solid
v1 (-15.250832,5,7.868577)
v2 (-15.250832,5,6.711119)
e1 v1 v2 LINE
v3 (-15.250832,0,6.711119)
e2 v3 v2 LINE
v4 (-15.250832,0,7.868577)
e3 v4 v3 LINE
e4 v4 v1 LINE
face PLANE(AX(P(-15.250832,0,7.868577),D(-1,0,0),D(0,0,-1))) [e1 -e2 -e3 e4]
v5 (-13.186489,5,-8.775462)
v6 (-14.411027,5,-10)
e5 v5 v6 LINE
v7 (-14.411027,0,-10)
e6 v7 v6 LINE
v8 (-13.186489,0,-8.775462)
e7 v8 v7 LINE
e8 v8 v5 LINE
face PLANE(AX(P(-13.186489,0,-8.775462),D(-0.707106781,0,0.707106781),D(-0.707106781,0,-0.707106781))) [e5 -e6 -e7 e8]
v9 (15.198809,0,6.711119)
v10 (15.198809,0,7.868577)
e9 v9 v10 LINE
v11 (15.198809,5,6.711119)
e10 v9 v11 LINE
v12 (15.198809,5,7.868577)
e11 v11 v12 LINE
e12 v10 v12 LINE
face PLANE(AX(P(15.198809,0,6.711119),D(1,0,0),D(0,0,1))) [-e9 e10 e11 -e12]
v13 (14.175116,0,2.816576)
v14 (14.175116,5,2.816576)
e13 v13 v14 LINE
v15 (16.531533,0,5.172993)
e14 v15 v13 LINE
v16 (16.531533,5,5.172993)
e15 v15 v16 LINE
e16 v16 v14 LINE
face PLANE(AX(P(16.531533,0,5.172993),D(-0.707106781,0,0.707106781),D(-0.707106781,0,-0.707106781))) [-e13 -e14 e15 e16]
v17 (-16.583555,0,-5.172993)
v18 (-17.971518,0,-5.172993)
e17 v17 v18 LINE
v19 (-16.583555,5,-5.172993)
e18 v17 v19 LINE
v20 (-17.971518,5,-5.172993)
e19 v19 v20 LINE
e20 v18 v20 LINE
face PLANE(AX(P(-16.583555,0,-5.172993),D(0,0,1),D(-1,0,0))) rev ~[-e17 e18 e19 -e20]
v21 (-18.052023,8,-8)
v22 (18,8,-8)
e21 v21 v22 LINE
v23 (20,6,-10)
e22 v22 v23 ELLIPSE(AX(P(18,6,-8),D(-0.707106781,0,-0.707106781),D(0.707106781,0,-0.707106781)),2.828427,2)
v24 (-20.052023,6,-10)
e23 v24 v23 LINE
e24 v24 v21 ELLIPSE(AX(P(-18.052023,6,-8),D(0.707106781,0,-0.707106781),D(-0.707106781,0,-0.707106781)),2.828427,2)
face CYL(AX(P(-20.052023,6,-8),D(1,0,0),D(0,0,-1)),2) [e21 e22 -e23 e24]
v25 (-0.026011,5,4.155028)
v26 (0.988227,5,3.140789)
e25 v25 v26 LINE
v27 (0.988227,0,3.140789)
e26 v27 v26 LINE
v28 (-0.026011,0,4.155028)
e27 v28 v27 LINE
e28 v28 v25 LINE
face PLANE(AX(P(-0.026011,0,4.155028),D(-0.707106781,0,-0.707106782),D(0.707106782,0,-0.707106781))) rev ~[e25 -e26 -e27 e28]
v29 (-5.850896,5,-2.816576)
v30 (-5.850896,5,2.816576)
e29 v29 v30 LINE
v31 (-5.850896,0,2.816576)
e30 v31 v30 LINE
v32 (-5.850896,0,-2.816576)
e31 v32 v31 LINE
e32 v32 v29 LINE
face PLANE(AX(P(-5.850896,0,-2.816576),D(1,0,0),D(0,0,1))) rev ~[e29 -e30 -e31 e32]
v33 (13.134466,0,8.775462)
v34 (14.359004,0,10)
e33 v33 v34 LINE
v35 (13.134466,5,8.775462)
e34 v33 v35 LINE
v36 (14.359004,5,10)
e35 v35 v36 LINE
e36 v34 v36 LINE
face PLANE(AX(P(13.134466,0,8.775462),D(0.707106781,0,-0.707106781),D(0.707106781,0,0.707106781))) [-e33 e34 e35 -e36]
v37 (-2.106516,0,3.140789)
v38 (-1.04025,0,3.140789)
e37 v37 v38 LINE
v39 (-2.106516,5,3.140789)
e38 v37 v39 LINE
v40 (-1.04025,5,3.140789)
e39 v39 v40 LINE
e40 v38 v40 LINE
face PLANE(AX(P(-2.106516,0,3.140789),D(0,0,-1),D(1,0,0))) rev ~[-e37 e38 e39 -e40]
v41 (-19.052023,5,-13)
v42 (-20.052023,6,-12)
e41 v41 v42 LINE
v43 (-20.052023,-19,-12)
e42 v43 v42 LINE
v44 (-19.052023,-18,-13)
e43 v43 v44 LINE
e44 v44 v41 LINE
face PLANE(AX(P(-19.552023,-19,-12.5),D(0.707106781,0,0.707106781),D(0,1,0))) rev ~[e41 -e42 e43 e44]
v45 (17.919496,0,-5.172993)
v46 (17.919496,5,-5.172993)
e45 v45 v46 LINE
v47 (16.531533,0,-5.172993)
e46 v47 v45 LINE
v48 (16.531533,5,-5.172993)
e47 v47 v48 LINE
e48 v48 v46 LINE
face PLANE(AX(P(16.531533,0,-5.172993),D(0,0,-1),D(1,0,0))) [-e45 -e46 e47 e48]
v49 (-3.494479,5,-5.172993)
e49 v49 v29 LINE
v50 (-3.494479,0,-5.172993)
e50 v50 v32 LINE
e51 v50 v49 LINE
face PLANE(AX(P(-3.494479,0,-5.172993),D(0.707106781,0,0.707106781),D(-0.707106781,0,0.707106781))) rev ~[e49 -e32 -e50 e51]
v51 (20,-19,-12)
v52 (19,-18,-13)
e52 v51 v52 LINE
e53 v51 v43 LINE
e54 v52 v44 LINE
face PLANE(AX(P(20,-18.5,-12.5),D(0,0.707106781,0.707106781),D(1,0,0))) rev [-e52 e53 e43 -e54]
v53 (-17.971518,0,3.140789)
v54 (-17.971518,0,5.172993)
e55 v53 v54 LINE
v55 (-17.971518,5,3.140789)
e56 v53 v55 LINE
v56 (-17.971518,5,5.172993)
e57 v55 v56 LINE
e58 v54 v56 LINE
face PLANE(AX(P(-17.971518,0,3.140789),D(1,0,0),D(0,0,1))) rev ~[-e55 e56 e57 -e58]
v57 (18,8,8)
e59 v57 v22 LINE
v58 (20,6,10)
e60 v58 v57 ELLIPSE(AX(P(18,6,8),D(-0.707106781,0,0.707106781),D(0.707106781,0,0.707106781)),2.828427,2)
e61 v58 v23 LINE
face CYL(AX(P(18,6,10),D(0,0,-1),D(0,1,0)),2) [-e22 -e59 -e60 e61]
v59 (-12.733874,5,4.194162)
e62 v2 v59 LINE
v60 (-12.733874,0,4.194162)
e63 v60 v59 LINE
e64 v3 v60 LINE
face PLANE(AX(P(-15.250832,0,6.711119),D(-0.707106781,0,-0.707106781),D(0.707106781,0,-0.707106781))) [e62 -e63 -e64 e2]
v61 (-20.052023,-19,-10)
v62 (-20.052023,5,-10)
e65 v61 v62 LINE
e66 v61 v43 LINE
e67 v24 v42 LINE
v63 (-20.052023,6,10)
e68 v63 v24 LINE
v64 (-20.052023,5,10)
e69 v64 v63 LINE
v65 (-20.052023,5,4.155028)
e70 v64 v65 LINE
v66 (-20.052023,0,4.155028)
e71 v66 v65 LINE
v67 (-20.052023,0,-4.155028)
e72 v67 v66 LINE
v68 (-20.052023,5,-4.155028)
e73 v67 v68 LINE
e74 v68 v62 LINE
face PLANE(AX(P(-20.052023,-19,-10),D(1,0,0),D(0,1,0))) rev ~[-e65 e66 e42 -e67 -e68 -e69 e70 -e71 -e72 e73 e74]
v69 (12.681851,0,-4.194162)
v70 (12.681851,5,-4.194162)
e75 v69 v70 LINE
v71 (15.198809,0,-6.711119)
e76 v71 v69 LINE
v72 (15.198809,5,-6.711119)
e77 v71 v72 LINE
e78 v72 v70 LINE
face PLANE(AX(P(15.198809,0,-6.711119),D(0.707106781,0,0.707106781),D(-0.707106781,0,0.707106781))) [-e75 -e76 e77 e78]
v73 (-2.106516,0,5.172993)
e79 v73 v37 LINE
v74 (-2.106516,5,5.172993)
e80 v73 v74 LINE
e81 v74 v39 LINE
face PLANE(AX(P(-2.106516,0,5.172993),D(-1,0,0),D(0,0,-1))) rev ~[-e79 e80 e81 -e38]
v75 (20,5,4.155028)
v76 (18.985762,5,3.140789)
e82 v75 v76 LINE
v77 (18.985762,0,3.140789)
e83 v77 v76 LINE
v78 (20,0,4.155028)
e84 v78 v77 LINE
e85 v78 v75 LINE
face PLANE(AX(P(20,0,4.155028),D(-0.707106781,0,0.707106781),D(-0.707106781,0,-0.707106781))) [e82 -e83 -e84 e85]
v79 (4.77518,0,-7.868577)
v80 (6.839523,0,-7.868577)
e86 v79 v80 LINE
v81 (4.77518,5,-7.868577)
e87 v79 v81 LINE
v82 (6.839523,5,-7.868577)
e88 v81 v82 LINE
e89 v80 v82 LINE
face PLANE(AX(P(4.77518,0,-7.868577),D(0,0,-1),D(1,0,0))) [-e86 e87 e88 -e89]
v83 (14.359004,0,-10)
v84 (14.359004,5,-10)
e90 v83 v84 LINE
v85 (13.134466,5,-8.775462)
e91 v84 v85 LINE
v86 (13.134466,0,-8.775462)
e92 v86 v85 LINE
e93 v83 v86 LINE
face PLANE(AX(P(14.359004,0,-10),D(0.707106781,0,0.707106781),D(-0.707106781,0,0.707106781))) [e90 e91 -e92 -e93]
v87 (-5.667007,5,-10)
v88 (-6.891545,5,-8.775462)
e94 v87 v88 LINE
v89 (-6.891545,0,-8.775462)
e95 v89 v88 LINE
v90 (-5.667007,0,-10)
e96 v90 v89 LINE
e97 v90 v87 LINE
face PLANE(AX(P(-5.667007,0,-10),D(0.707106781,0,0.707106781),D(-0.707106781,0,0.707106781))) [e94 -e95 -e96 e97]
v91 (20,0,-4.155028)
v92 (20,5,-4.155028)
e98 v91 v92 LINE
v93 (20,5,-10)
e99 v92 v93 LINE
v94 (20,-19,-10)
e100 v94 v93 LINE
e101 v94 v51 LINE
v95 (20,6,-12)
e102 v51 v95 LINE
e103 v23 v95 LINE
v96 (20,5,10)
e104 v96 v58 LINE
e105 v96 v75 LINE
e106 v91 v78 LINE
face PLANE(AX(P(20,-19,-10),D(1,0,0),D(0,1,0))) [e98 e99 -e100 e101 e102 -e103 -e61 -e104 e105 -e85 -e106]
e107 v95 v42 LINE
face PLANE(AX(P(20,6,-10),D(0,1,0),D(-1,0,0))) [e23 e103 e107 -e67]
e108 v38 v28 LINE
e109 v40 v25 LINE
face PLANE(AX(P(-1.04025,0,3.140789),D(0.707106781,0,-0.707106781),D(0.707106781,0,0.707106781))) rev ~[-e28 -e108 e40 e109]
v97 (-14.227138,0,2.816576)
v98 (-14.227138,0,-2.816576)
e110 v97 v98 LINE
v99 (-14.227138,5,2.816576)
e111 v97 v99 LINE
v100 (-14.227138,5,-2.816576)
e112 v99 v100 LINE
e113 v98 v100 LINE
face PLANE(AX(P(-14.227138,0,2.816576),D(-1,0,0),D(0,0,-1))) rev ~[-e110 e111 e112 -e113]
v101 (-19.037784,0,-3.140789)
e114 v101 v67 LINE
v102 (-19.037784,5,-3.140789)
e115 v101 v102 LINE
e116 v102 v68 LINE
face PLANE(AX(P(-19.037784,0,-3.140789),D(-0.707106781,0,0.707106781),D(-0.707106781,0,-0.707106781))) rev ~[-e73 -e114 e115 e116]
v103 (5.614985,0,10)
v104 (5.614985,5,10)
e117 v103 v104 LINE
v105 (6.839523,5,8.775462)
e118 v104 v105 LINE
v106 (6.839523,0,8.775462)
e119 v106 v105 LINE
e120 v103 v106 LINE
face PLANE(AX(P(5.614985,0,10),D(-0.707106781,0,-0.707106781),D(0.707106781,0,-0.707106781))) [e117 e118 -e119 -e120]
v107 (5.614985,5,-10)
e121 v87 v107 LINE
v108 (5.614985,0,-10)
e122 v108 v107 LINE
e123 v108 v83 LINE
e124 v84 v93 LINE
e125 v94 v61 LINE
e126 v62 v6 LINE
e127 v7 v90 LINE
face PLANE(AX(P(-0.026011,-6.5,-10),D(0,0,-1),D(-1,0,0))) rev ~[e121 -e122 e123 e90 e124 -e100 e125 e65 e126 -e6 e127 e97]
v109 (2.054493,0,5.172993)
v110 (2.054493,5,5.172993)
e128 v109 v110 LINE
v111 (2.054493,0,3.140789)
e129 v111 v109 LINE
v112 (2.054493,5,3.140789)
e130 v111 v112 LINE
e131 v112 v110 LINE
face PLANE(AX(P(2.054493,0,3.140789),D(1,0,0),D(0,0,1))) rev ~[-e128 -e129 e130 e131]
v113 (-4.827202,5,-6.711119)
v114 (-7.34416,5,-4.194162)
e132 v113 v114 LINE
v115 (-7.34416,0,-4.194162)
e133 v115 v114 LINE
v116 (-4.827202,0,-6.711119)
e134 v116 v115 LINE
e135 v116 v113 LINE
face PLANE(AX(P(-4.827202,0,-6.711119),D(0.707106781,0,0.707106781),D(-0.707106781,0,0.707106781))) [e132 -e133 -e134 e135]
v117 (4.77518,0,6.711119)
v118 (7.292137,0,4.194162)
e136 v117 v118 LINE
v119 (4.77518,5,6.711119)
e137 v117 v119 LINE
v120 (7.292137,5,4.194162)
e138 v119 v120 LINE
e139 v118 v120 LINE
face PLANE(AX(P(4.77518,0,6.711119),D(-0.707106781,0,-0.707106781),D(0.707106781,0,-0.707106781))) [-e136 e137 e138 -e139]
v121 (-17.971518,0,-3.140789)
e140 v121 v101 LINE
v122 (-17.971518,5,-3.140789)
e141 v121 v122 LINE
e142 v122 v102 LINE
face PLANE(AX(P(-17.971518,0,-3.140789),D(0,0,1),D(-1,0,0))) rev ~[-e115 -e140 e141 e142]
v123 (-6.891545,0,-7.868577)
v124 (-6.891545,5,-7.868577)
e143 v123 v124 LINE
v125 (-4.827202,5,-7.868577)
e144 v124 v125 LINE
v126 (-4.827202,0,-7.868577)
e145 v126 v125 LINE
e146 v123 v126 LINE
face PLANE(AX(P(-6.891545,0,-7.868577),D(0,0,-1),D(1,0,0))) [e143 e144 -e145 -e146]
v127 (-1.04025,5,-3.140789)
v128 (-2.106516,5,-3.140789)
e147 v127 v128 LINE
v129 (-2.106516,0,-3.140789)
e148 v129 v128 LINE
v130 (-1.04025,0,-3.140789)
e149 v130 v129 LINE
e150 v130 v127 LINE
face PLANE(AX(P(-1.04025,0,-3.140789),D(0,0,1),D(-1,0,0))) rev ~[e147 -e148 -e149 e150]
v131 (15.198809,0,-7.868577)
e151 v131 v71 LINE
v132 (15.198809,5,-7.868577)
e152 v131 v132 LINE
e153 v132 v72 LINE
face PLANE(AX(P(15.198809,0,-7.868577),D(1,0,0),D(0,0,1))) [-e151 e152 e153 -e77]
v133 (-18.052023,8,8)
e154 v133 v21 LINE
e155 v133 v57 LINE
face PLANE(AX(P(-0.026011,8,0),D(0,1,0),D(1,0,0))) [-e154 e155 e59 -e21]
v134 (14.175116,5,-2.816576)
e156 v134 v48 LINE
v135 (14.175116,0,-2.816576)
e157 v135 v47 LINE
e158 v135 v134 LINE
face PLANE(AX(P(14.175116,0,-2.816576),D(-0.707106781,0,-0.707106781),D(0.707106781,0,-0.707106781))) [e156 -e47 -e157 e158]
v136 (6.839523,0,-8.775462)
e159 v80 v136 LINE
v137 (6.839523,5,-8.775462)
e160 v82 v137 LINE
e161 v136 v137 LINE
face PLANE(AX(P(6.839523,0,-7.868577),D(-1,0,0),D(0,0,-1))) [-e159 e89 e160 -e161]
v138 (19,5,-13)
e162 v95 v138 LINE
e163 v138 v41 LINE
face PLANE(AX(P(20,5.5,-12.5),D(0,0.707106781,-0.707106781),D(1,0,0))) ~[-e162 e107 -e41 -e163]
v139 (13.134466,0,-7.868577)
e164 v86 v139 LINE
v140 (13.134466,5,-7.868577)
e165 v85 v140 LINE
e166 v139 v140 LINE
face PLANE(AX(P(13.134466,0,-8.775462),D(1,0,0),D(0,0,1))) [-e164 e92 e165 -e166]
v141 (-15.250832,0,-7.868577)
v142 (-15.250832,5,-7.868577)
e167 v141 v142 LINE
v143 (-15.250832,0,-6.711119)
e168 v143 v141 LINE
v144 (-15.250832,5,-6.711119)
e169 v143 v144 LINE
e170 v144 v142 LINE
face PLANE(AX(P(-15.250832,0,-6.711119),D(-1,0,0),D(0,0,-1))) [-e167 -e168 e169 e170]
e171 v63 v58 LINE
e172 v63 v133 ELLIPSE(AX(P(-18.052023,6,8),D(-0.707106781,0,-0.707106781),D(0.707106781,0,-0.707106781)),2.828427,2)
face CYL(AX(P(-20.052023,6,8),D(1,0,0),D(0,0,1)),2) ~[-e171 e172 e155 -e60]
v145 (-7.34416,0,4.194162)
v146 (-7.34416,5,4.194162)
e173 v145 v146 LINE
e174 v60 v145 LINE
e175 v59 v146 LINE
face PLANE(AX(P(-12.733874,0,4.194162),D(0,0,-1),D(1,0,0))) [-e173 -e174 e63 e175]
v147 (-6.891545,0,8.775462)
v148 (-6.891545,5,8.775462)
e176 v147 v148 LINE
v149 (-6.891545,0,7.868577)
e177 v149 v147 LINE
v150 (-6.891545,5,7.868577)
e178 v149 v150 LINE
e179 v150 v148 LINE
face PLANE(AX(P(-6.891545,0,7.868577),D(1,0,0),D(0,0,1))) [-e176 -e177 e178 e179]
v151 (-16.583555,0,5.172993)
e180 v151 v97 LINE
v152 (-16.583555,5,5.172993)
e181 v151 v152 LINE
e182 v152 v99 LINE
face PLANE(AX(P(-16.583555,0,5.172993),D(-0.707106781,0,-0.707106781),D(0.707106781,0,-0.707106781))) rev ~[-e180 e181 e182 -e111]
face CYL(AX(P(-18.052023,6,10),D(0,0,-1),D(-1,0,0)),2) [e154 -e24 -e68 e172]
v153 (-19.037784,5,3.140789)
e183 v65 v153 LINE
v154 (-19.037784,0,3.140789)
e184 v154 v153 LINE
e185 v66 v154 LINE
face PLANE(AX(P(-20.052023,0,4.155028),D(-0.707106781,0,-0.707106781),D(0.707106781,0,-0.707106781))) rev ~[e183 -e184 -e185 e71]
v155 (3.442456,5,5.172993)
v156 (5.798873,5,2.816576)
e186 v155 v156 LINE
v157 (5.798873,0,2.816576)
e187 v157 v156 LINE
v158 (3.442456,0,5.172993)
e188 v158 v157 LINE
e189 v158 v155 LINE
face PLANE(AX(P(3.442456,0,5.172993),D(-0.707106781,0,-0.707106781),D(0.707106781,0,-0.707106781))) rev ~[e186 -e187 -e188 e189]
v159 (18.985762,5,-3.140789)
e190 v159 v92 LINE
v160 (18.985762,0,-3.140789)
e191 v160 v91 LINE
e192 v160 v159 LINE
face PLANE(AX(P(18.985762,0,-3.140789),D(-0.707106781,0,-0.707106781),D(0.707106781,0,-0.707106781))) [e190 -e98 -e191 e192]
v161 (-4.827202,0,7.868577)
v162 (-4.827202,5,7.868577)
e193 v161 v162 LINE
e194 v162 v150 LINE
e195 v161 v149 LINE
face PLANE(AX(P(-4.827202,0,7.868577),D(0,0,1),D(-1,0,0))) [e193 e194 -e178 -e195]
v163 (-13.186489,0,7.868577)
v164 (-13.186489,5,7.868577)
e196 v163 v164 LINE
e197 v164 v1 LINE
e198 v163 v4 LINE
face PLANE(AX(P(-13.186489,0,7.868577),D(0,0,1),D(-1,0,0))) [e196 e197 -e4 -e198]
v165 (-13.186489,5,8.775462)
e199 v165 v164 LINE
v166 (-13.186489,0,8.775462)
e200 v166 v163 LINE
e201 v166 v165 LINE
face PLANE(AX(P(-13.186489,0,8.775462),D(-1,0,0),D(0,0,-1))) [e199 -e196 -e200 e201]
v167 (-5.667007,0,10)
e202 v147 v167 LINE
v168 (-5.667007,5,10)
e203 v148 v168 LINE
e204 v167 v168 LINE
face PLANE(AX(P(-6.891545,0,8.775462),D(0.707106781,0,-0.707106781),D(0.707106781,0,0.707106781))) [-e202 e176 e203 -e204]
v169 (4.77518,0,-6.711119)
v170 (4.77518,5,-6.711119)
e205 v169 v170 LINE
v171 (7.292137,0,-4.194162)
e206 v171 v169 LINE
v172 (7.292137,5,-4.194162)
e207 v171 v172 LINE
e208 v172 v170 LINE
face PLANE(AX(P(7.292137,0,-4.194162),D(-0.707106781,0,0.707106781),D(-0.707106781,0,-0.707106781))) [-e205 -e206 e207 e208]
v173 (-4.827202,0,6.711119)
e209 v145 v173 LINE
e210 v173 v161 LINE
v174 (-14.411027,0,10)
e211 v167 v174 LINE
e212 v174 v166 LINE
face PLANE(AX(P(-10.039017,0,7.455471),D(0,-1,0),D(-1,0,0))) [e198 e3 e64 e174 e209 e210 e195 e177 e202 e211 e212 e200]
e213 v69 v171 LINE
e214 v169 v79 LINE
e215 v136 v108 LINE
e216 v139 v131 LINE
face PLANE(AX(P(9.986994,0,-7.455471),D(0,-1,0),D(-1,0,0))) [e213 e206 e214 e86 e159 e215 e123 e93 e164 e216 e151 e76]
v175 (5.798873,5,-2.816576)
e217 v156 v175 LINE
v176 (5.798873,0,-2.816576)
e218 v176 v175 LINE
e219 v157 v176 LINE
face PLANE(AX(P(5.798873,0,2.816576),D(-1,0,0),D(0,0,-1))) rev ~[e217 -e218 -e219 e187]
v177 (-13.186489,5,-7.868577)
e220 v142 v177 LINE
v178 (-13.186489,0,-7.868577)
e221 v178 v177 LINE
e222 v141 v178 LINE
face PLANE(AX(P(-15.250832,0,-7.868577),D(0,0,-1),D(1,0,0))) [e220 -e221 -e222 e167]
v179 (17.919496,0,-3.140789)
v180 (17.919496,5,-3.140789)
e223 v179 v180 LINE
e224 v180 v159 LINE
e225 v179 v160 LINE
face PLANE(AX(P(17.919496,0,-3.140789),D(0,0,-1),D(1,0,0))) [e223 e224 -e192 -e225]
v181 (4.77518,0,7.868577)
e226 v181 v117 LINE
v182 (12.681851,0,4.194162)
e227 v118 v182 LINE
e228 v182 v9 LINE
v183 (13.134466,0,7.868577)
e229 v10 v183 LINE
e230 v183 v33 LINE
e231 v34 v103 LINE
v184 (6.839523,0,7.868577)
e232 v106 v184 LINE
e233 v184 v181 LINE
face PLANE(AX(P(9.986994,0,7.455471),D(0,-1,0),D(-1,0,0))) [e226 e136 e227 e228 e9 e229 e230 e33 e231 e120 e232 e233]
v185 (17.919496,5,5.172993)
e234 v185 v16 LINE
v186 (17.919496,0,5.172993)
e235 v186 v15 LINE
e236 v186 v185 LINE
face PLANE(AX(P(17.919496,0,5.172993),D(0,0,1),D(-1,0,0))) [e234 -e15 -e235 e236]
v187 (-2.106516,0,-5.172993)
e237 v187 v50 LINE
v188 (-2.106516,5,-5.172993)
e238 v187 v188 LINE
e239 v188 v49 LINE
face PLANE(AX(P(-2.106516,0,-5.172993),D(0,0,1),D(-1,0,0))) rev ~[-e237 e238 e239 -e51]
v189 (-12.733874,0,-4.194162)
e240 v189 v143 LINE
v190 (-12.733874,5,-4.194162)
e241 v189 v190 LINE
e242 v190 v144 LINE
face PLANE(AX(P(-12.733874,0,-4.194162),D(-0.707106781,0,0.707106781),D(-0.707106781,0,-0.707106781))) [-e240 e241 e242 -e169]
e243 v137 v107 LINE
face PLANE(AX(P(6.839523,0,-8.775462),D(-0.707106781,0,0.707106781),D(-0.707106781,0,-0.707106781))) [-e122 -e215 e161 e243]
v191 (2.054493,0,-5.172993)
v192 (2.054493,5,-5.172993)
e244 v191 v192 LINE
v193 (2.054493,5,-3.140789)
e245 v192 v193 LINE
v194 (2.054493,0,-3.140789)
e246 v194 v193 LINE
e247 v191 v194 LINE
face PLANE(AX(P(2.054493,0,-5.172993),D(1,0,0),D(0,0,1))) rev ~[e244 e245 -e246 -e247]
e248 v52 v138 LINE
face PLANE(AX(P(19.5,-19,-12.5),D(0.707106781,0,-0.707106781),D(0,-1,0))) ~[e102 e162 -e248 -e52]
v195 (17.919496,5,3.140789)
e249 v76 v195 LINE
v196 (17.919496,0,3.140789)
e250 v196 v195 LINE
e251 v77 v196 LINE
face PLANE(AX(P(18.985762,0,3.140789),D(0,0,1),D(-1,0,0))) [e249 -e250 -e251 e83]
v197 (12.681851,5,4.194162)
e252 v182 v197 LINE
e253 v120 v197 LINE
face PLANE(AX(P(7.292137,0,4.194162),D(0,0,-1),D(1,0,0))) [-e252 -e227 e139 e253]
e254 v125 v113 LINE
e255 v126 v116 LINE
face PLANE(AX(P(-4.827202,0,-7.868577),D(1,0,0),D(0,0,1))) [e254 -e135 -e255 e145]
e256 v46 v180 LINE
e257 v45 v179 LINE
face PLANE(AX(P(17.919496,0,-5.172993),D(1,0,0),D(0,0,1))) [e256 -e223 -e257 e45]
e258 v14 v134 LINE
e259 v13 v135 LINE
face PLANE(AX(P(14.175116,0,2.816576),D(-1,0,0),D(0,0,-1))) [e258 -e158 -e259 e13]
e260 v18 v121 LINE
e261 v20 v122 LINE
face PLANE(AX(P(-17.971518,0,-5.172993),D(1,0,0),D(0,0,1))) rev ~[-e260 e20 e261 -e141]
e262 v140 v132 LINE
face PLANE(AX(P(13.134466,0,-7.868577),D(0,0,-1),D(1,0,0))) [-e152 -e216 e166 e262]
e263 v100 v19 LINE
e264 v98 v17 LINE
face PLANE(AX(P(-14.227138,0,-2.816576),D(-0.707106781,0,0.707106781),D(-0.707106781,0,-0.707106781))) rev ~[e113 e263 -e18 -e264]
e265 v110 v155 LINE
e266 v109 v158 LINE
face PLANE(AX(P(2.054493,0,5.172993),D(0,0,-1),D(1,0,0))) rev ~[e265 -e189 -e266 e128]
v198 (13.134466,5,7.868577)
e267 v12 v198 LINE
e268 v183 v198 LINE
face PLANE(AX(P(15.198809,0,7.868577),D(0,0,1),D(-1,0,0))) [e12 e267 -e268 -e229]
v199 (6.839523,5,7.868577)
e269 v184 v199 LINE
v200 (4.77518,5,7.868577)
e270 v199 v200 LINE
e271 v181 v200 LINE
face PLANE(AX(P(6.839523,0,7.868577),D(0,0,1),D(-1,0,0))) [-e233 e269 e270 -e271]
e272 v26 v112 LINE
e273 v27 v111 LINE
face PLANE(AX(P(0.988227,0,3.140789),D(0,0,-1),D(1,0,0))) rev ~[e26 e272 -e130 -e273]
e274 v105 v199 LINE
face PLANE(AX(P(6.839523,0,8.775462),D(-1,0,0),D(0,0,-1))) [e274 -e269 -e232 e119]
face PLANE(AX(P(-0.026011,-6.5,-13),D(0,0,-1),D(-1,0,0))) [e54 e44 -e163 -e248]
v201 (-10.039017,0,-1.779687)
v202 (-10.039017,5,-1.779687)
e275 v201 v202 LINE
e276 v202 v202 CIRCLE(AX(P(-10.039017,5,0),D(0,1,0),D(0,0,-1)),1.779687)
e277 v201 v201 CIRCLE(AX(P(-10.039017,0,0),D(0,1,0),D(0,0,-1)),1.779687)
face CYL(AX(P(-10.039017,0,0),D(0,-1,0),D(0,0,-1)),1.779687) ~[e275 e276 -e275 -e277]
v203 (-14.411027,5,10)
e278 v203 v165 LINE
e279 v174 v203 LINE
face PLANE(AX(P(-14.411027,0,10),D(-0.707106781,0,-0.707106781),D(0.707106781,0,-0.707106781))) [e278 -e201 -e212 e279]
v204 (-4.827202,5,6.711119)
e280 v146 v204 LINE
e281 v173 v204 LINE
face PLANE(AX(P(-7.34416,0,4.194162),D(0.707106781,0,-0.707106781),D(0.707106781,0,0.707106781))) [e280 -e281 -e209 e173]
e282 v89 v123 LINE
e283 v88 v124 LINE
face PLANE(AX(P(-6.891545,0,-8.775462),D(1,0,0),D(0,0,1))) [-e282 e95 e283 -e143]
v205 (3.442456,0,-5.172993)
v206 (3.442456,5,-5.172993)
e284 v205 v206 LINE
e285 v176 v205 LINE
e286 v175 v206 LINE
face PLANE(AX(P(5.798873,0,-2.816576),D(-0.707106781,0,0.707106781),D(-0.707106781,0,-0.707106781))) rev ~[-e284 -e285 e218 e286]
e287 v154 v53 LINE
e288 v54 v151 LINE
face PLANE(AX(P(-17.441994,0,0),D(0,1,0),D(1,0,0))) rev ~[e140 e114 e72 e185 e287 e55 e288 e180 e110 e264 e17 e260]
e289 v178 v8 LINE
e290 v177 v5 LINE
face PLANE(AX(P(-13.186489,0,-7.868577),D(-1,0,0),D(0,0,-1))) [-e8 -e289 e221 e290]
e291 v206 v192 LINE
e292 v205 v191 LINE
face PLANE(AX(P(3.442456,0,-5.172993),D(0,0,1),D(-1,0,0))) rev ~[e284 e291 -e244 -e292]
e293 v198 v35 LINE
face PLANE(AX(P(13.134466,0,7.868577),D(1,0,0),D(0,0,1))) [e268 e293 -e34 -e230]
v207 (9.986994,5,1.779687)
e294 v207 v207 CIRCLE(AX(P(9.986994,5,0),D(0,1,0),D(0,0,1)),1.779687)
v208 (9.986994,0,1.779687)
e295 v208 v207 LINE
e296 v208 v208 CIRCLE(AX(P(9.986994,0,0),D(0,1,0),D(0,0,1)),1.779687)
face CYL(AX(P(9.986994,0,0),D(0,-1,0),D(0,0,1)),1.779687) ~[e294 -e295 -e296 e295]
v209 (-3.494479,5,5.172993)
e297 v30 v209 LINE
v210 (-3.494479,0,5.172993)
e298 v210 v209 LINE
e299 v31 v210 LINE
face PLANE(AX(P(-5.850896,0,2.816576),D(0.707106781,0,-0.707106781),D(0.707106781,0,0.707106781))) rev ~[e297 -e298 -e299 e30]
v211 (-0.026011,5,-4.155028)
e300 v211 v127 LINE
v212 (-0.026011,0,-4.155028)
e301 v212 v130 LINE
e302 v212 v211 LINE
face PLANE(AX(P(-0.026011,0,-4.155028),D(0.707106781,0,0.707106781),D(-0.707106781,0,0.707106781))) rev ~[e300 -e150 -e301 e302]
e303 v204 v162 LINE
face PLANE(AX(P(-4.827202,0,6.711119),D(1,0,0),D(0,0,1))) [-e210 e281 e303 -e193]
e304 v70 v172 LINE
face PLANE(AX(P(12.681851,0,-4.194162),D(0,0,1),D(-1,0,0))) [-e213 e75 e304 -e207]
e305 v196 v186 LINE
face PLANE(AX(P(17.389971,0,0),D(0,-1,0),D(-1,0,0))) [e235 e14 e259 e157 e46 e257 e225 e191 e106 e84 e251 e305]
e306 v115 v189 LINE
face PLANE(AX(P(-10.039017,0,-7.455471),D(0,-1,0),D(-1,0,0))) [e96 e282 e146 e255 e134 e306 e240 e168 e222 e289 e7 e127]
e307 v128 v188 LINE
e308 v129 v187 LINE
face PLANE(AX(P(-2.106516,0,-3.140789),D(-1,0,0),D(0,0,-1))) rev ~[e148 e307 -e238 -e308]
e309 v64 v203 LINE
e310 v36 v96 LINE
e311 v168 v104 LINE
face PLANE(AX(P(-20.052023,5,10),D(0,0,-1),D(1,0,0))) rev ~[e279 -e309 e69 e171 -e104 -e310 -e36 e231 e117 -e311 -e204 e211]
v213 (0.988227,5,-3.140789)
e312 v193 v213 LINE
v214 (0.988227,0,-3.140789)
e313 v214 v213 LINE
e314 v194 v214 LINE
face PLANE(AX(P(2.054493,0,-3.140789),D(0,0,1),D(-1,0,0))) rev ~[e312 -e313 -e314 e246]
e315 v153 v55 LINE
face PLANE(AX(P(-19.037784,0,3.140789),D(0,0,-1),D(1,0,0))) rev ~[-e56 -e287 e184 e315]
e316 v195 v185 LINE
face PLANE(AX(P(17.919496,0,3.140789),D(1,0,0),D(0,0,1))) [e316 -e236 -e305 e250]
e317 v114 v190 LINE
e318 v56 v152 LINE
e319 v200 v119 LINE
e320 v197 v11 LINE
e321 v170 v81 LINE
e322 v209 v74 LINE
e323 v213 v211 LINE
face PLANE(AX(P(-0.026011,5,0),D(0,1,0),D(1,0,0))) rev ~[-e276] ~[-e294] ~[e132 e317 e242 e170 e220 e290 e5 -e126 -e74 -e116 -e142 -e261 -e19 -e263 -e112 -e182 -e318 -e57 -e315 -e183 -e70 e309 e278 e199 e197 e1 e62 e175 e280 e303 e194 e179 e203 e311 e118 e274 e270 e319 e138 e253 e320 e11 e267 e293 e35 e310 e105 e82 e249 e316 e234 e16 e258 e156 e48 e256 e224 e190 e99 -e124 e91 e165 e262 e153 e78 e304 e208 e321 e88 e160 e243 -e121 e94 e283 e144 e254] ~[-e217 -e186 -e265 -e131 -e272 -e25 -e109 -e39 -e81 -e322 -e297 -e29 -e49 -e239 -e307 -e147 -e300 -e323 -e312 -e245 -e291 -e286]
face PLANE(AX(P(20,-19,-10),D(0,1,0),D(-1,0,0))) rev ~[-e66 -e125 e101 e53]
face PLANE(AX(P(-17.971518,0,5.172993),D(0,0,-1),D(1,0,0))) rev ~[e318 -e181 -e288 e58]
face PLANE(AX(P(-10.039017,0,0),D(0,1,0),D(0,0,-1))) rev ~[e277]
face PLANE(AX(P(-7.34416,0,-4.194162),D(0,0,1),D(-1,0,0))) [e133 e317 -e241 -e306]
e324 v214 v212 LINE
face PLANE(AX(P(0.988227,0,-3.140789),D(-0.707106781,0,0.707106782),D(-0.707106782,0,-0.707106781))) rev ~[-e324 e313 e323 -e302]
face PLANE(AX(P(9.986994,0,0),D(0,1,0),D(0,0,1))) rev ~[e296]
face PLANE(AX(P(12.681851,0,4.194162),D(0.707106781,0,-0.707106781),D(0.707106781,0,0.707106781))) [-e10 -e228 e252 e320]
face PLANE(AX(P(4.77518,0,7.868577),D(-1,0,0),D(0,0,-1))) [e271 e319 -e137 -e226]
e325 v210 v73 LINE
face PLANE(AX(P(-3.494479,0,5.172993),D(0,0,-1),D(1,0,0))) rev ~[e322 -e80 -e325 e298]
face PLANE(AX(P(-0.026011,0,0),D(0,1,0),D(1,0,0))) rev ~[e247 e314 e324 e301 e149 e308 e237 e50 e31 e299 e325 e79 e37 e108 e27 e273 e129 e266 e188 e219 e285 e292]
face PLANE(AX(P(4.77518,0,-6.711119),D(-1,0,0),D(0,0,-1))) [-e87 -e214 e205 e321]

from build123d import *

# Parameters (mm, degrees)
CROQUIS2_R                = 1.779687177
SALIENTE_EXTRUIR1_DEPTH   = 5
SALIENTE_EXTRUIR1_2_DEPTH = 5
SALIENTE_EXTRUIR1_3_DEPTH = 5
SALIENTE_EXTRUIR1_4_DEPTH = 5
SALIENTE_EXTRUIR1_5_DEPTH = 5
SALIENTE_EXTRUIR1_6_DEPTH = 5
SALIENTE_EXTRUIR1_7_DEPTH = 5
SALIENTE_EXTRUIR1_8_DEPTH = 5
SALIENTE_EXTRUIR1_9_DEPTH = 5
CROQUIS3_W                = 40.052022685
CROQUIS3_H                = 20
SALIENTE_EXTRUIR2_DEPTH   = 3
REDONDEO1_R               = 2
CROQUIS4_W                = 40.052022685
CROQUIS4_H                = 25
SALIENTE_EXTRUIR3_DEPTH   = 3
CHAFL_N1_SIZE             = 1


with BuildPart() as part:
    # Croquis2 → Saliente-Extruir1 (new body)
    with BuildSketch(Plane(origin=(0, 0, 0), x_dir=(1, 0, 0), z_dir=(0, 1, 0))):
        with Locations(Location((-10.039017014, 0, 0), (0, 0, 90))):
            Circle(CROQUIS2_R)
    extrude(amount=SALIENTE_EXTRUIR1_DEPTH)



with BuildPart() as body_2:
    # Croquis2 → Saliente-Extruir1 2 (new body)
    with BuildSketch(Plane(origin=(0, 0, 0), x_dir=(1, 0, 0), z_dir=(0, 1, 0))):
        with Locations(Location((9.986994329, 0, 0), (0, 0, 270))):
            Circle(CROQUIS2_R)
    extrude(amount=SALIENTE_EXTRUIR1_2_DEPTH)


with BuildPart() as body_3:
    # Croquis2 → Saliente-Extruir1 3 (new body)
    with BuildSketch(Plane(origin=(0, 0, 0), x_dir=(1, 0, 0), z_dir=(0, 1, 0))):
        Polygon((5.614984779, 10), (14.359003879, 10), (13.134466077, 8.775462198), (13.134466077, 7.868577354), (15.198808852, 7.868577354), (15.198808852, 6.711119422), (12.681851378, 4.194161948), (7.292137279, 4.194161948), (4.775179805, 6.711119422), (4.775179805, 7.868577354), (6.839522581, 7.868577354), (6.839522581, 8.775462198), align=None)
    extrude(amount=SALIENTE_EXTRUIR1_3_DEPTH)


with BuildPart() as body_4:
    # Croquis2 → Saliente-Extruir1 4 (new body)
    with BuildSketch(Plane(origin=(0, 0, 0), x_dir=(1, 0, 0), z_dir=(0, 1, 0))):
        Polygon((20, 4.155027818), (20, -4.155027818), (18.985761672, -3.14078949), (17.919495795, -3.14078949), (17.919495795, -5.172992947), (16.531532714, -5.172992947), (14.175115642, -2.816575874), (14.175115642, 2.816575874), (16.531532714, 5.172992947), (17.919495795, 5.172992947), (17.919495795, 3.14078949), (18.985761672, 3.14078949), align=None)
    extrude(amount=SALIENTE_EXTRUIR1_4_DEPTH)


with BuildPart() as body_5:
    # Croquis2 → Saliente-Extruir1 5 (new body)
    with BuildSketch(Plane(origin=(0, 0, 0), x_dir=(1, 0, 0), z_dir=(0, 1, 0))):
        Polygon((-0.026011343, 4.155027818), (-1.040249671, 3.14078949), (-2.106515548, 3.14078949), (-2.106515548, 5.172992947), (-3.494478629, 5.172992947), (-5.850895701, 2.816575874), (-5.850895701, -2.816575874), (-3.494478629, -5.172992947), (-2.106515548, -5.172992947), (-2.106515548, -3.14078949), (-1.040249671, -3.14078949), (-0.026011343, -4.155027818), (0.988226986, -3.14078949), (2.054492862, -3.14078949), (2.054492862, -5.172992947), (3.442455943, -5.172992947), (5.798873016, -2.816575874), (5.798873016, 2.816575874), (3.442455943, 5.172992947), (2.054492862, 5.172992947), (2.054492862, 3.14078949), (0.988226986, 3.14078949), align=None)
    extrude(amount=SALIENTE_EXTRUIR1_5_DEPTH)


with BuildPart() as body_6:
    # Croquis2 → Saliente-Extruir1 6 (new body)
    with BuildSketch(Plane(origin=(0, 0, 0), x_dir=(1, 0, 0), z_dir=(0, 1, 0))):
        Polygon((4.775179805, -6.711119422), (7.292137279, -4.194161948), (12.681851378, -4.194161948), (15.198808852, -6.711119422), (15.198808852, -7.868577354), (13.134466077, -7.868577354), (13.134466077, -8.775462198), (14.359003879, -10), (5.614984779, -10), (6.839522581, -8.775462198), (6.839522581, -7.868577354), (4.775179805, -7.868577354), align=None)
    extrude(amount=SALIENTE_EXTRUIR1_6_DEPTH)


with BuildPart() as body_7:
    # Croquis2 → Saliente-Extruir1 7 (new body)
    with BuildSketch(Plane(origin=(0, 0, 0), x_dir=(1, 0, 0), z_dir=(0, 1, 0))):
        Polygon((-12.733874064, -4.194161948), (-7.344159964, -4.194161948), (-4.82720249, -6.711119422), (-4.82720249, -7.868577354), (-6.891545266, -7.868577354), (-6.891545266, -8.775462198), (-5.667007464, -10), (-14.411026564, -10), (-13.186488762, -8.775462198), (-13.186488762, -7.868577354), (-15.250831538, -7.868577354), (-15.250831538, -6.711119422), align=None)
    extrude(amount=SALIENTE_EXTRUIR1_7_DEPTH)


with BuildPart() as body_8:
    # Croquis2 → Saliente-Extruir1 8 (new body)
    with BuildSketch(Plane(origin=(0, 0, 0), x_dir=(1, 0, 0), z_dir=(0, 1, 0))):
        Polygon((-16.583555399, -5.172992947), (-14.227138327, -2.816575874), (-14.227138327, 2.816575874), (-16.583555399, 5.172992947), (-17.97151848, 5.172992947), (-17.97151848, 3.14078949), (-19.037784357, 3.14078949), (-20.052022685, 4.155027818), (-20.052022685, -4.155027818), (-19.037784357, -3.14078949), (-17.97151848, -3.14078949), (-17.97151848, -5.172992947), align=None)
    extrude(amount=SALIENTE_EXTRUIR1_8_DEPTH)


with BuildPart() as body_9:
    # Croquis2 → Saliente-Extruir1 9 (new body)
    with BuildSketch(Plane(origin=(0, 0, 0), x_dir=(1, 0, 0), z_dir=(0, 1, 0))):
        Polygon((-5.667007464, 10), (-6.891545266, 8.775462198), (-6.891545266, 7.868577354), (-4.82720249, 7.868577354), (-4.82720249, 6.711119422), (-7.344159964, 4.194161948), (-12.733874064, 4.194161948), (-15.250831538, 6.711119422), (-15.250831538, 7.868577354), (-13.186488762, 7.868577354), (-13.186488762, 8.775462198), (-14.411026564, 10), align=None)
    extrude(amount=SALIENTE_EXTRUIR1_9_DEPTH)


with BuildPart() as part_1:
    add(part.part)

    add(body_2.part)  # Saliente-Extruir2 merges body 2

    add(body_3.part)  # Saliente-Extruir2 merges body 3

    add(body_4.part)  # Saliente-Extruir2 merges body 4

    add(body_5.part)  # Saliente-Extruir2 merges body 5

    add(body_6.part)  # Saliente-Extruir2 merges body 6

    add(body_7.part)  # Saliente-Extruir2 merges body 7

    add(body_8.part)  # Saliente-Extruir2 merges body 8

    add(body_9.part)  # Saliente-Extruir2 merges body 9
    # Croquis3 → Saliente-Extruir2 (add)
    with BuildSketch(Plane(origin=(0, 5, 0), x_dir=(1, 0, 0), z_dir=(0, 1, 0))):
        with Locations((-0.026011343, 0)):
            Rectangle(CROQUIS3_W, CROQUIS3_H)
    extrude(amount=SALIENTE_EXTRUIR2_DEPTH)

    # Redondeo1
    redondeo1_edges = [part_1.edges().sort_by_distance(p)[0] for p in [
        (-20.052022685, 8, 0),
        (-0.026011343, 8, 10),
        (20, 8, 0),
        (-0.026011343, 8, -10),
    ]]
    fillet(redondeo1_edges, radius=REDONDEO1_R)

    # Croquis4 → Saliente-Extruir3 (add)
    with BuildSketch(Plane(origin=(0, 0, -10), x_dir=(-1, 0, 0), z_dir=(0, 0, -1))):
        with Locations((0.026011343, -6.5)):
            Rectangle(CROQUIS4_W, CROQUIS4_H)
    extrude(amount=SALIENTE_EXTRUIR3_DEPTH)

    # Chaflán1
    chafl_n1_edges = [part_1.edges().sort_by_distance(p)[0] for p in [
        (20, -6.5, -13),
        (-0.026011343, -19, -13),
        (-20.052022685, -6.5, -13),
        (-0.026011343, 6, -13),
    ]]
    chamfer(chafl_n1_edges, length=CHAFL_N1_SIZE)


solid = part_1.part
